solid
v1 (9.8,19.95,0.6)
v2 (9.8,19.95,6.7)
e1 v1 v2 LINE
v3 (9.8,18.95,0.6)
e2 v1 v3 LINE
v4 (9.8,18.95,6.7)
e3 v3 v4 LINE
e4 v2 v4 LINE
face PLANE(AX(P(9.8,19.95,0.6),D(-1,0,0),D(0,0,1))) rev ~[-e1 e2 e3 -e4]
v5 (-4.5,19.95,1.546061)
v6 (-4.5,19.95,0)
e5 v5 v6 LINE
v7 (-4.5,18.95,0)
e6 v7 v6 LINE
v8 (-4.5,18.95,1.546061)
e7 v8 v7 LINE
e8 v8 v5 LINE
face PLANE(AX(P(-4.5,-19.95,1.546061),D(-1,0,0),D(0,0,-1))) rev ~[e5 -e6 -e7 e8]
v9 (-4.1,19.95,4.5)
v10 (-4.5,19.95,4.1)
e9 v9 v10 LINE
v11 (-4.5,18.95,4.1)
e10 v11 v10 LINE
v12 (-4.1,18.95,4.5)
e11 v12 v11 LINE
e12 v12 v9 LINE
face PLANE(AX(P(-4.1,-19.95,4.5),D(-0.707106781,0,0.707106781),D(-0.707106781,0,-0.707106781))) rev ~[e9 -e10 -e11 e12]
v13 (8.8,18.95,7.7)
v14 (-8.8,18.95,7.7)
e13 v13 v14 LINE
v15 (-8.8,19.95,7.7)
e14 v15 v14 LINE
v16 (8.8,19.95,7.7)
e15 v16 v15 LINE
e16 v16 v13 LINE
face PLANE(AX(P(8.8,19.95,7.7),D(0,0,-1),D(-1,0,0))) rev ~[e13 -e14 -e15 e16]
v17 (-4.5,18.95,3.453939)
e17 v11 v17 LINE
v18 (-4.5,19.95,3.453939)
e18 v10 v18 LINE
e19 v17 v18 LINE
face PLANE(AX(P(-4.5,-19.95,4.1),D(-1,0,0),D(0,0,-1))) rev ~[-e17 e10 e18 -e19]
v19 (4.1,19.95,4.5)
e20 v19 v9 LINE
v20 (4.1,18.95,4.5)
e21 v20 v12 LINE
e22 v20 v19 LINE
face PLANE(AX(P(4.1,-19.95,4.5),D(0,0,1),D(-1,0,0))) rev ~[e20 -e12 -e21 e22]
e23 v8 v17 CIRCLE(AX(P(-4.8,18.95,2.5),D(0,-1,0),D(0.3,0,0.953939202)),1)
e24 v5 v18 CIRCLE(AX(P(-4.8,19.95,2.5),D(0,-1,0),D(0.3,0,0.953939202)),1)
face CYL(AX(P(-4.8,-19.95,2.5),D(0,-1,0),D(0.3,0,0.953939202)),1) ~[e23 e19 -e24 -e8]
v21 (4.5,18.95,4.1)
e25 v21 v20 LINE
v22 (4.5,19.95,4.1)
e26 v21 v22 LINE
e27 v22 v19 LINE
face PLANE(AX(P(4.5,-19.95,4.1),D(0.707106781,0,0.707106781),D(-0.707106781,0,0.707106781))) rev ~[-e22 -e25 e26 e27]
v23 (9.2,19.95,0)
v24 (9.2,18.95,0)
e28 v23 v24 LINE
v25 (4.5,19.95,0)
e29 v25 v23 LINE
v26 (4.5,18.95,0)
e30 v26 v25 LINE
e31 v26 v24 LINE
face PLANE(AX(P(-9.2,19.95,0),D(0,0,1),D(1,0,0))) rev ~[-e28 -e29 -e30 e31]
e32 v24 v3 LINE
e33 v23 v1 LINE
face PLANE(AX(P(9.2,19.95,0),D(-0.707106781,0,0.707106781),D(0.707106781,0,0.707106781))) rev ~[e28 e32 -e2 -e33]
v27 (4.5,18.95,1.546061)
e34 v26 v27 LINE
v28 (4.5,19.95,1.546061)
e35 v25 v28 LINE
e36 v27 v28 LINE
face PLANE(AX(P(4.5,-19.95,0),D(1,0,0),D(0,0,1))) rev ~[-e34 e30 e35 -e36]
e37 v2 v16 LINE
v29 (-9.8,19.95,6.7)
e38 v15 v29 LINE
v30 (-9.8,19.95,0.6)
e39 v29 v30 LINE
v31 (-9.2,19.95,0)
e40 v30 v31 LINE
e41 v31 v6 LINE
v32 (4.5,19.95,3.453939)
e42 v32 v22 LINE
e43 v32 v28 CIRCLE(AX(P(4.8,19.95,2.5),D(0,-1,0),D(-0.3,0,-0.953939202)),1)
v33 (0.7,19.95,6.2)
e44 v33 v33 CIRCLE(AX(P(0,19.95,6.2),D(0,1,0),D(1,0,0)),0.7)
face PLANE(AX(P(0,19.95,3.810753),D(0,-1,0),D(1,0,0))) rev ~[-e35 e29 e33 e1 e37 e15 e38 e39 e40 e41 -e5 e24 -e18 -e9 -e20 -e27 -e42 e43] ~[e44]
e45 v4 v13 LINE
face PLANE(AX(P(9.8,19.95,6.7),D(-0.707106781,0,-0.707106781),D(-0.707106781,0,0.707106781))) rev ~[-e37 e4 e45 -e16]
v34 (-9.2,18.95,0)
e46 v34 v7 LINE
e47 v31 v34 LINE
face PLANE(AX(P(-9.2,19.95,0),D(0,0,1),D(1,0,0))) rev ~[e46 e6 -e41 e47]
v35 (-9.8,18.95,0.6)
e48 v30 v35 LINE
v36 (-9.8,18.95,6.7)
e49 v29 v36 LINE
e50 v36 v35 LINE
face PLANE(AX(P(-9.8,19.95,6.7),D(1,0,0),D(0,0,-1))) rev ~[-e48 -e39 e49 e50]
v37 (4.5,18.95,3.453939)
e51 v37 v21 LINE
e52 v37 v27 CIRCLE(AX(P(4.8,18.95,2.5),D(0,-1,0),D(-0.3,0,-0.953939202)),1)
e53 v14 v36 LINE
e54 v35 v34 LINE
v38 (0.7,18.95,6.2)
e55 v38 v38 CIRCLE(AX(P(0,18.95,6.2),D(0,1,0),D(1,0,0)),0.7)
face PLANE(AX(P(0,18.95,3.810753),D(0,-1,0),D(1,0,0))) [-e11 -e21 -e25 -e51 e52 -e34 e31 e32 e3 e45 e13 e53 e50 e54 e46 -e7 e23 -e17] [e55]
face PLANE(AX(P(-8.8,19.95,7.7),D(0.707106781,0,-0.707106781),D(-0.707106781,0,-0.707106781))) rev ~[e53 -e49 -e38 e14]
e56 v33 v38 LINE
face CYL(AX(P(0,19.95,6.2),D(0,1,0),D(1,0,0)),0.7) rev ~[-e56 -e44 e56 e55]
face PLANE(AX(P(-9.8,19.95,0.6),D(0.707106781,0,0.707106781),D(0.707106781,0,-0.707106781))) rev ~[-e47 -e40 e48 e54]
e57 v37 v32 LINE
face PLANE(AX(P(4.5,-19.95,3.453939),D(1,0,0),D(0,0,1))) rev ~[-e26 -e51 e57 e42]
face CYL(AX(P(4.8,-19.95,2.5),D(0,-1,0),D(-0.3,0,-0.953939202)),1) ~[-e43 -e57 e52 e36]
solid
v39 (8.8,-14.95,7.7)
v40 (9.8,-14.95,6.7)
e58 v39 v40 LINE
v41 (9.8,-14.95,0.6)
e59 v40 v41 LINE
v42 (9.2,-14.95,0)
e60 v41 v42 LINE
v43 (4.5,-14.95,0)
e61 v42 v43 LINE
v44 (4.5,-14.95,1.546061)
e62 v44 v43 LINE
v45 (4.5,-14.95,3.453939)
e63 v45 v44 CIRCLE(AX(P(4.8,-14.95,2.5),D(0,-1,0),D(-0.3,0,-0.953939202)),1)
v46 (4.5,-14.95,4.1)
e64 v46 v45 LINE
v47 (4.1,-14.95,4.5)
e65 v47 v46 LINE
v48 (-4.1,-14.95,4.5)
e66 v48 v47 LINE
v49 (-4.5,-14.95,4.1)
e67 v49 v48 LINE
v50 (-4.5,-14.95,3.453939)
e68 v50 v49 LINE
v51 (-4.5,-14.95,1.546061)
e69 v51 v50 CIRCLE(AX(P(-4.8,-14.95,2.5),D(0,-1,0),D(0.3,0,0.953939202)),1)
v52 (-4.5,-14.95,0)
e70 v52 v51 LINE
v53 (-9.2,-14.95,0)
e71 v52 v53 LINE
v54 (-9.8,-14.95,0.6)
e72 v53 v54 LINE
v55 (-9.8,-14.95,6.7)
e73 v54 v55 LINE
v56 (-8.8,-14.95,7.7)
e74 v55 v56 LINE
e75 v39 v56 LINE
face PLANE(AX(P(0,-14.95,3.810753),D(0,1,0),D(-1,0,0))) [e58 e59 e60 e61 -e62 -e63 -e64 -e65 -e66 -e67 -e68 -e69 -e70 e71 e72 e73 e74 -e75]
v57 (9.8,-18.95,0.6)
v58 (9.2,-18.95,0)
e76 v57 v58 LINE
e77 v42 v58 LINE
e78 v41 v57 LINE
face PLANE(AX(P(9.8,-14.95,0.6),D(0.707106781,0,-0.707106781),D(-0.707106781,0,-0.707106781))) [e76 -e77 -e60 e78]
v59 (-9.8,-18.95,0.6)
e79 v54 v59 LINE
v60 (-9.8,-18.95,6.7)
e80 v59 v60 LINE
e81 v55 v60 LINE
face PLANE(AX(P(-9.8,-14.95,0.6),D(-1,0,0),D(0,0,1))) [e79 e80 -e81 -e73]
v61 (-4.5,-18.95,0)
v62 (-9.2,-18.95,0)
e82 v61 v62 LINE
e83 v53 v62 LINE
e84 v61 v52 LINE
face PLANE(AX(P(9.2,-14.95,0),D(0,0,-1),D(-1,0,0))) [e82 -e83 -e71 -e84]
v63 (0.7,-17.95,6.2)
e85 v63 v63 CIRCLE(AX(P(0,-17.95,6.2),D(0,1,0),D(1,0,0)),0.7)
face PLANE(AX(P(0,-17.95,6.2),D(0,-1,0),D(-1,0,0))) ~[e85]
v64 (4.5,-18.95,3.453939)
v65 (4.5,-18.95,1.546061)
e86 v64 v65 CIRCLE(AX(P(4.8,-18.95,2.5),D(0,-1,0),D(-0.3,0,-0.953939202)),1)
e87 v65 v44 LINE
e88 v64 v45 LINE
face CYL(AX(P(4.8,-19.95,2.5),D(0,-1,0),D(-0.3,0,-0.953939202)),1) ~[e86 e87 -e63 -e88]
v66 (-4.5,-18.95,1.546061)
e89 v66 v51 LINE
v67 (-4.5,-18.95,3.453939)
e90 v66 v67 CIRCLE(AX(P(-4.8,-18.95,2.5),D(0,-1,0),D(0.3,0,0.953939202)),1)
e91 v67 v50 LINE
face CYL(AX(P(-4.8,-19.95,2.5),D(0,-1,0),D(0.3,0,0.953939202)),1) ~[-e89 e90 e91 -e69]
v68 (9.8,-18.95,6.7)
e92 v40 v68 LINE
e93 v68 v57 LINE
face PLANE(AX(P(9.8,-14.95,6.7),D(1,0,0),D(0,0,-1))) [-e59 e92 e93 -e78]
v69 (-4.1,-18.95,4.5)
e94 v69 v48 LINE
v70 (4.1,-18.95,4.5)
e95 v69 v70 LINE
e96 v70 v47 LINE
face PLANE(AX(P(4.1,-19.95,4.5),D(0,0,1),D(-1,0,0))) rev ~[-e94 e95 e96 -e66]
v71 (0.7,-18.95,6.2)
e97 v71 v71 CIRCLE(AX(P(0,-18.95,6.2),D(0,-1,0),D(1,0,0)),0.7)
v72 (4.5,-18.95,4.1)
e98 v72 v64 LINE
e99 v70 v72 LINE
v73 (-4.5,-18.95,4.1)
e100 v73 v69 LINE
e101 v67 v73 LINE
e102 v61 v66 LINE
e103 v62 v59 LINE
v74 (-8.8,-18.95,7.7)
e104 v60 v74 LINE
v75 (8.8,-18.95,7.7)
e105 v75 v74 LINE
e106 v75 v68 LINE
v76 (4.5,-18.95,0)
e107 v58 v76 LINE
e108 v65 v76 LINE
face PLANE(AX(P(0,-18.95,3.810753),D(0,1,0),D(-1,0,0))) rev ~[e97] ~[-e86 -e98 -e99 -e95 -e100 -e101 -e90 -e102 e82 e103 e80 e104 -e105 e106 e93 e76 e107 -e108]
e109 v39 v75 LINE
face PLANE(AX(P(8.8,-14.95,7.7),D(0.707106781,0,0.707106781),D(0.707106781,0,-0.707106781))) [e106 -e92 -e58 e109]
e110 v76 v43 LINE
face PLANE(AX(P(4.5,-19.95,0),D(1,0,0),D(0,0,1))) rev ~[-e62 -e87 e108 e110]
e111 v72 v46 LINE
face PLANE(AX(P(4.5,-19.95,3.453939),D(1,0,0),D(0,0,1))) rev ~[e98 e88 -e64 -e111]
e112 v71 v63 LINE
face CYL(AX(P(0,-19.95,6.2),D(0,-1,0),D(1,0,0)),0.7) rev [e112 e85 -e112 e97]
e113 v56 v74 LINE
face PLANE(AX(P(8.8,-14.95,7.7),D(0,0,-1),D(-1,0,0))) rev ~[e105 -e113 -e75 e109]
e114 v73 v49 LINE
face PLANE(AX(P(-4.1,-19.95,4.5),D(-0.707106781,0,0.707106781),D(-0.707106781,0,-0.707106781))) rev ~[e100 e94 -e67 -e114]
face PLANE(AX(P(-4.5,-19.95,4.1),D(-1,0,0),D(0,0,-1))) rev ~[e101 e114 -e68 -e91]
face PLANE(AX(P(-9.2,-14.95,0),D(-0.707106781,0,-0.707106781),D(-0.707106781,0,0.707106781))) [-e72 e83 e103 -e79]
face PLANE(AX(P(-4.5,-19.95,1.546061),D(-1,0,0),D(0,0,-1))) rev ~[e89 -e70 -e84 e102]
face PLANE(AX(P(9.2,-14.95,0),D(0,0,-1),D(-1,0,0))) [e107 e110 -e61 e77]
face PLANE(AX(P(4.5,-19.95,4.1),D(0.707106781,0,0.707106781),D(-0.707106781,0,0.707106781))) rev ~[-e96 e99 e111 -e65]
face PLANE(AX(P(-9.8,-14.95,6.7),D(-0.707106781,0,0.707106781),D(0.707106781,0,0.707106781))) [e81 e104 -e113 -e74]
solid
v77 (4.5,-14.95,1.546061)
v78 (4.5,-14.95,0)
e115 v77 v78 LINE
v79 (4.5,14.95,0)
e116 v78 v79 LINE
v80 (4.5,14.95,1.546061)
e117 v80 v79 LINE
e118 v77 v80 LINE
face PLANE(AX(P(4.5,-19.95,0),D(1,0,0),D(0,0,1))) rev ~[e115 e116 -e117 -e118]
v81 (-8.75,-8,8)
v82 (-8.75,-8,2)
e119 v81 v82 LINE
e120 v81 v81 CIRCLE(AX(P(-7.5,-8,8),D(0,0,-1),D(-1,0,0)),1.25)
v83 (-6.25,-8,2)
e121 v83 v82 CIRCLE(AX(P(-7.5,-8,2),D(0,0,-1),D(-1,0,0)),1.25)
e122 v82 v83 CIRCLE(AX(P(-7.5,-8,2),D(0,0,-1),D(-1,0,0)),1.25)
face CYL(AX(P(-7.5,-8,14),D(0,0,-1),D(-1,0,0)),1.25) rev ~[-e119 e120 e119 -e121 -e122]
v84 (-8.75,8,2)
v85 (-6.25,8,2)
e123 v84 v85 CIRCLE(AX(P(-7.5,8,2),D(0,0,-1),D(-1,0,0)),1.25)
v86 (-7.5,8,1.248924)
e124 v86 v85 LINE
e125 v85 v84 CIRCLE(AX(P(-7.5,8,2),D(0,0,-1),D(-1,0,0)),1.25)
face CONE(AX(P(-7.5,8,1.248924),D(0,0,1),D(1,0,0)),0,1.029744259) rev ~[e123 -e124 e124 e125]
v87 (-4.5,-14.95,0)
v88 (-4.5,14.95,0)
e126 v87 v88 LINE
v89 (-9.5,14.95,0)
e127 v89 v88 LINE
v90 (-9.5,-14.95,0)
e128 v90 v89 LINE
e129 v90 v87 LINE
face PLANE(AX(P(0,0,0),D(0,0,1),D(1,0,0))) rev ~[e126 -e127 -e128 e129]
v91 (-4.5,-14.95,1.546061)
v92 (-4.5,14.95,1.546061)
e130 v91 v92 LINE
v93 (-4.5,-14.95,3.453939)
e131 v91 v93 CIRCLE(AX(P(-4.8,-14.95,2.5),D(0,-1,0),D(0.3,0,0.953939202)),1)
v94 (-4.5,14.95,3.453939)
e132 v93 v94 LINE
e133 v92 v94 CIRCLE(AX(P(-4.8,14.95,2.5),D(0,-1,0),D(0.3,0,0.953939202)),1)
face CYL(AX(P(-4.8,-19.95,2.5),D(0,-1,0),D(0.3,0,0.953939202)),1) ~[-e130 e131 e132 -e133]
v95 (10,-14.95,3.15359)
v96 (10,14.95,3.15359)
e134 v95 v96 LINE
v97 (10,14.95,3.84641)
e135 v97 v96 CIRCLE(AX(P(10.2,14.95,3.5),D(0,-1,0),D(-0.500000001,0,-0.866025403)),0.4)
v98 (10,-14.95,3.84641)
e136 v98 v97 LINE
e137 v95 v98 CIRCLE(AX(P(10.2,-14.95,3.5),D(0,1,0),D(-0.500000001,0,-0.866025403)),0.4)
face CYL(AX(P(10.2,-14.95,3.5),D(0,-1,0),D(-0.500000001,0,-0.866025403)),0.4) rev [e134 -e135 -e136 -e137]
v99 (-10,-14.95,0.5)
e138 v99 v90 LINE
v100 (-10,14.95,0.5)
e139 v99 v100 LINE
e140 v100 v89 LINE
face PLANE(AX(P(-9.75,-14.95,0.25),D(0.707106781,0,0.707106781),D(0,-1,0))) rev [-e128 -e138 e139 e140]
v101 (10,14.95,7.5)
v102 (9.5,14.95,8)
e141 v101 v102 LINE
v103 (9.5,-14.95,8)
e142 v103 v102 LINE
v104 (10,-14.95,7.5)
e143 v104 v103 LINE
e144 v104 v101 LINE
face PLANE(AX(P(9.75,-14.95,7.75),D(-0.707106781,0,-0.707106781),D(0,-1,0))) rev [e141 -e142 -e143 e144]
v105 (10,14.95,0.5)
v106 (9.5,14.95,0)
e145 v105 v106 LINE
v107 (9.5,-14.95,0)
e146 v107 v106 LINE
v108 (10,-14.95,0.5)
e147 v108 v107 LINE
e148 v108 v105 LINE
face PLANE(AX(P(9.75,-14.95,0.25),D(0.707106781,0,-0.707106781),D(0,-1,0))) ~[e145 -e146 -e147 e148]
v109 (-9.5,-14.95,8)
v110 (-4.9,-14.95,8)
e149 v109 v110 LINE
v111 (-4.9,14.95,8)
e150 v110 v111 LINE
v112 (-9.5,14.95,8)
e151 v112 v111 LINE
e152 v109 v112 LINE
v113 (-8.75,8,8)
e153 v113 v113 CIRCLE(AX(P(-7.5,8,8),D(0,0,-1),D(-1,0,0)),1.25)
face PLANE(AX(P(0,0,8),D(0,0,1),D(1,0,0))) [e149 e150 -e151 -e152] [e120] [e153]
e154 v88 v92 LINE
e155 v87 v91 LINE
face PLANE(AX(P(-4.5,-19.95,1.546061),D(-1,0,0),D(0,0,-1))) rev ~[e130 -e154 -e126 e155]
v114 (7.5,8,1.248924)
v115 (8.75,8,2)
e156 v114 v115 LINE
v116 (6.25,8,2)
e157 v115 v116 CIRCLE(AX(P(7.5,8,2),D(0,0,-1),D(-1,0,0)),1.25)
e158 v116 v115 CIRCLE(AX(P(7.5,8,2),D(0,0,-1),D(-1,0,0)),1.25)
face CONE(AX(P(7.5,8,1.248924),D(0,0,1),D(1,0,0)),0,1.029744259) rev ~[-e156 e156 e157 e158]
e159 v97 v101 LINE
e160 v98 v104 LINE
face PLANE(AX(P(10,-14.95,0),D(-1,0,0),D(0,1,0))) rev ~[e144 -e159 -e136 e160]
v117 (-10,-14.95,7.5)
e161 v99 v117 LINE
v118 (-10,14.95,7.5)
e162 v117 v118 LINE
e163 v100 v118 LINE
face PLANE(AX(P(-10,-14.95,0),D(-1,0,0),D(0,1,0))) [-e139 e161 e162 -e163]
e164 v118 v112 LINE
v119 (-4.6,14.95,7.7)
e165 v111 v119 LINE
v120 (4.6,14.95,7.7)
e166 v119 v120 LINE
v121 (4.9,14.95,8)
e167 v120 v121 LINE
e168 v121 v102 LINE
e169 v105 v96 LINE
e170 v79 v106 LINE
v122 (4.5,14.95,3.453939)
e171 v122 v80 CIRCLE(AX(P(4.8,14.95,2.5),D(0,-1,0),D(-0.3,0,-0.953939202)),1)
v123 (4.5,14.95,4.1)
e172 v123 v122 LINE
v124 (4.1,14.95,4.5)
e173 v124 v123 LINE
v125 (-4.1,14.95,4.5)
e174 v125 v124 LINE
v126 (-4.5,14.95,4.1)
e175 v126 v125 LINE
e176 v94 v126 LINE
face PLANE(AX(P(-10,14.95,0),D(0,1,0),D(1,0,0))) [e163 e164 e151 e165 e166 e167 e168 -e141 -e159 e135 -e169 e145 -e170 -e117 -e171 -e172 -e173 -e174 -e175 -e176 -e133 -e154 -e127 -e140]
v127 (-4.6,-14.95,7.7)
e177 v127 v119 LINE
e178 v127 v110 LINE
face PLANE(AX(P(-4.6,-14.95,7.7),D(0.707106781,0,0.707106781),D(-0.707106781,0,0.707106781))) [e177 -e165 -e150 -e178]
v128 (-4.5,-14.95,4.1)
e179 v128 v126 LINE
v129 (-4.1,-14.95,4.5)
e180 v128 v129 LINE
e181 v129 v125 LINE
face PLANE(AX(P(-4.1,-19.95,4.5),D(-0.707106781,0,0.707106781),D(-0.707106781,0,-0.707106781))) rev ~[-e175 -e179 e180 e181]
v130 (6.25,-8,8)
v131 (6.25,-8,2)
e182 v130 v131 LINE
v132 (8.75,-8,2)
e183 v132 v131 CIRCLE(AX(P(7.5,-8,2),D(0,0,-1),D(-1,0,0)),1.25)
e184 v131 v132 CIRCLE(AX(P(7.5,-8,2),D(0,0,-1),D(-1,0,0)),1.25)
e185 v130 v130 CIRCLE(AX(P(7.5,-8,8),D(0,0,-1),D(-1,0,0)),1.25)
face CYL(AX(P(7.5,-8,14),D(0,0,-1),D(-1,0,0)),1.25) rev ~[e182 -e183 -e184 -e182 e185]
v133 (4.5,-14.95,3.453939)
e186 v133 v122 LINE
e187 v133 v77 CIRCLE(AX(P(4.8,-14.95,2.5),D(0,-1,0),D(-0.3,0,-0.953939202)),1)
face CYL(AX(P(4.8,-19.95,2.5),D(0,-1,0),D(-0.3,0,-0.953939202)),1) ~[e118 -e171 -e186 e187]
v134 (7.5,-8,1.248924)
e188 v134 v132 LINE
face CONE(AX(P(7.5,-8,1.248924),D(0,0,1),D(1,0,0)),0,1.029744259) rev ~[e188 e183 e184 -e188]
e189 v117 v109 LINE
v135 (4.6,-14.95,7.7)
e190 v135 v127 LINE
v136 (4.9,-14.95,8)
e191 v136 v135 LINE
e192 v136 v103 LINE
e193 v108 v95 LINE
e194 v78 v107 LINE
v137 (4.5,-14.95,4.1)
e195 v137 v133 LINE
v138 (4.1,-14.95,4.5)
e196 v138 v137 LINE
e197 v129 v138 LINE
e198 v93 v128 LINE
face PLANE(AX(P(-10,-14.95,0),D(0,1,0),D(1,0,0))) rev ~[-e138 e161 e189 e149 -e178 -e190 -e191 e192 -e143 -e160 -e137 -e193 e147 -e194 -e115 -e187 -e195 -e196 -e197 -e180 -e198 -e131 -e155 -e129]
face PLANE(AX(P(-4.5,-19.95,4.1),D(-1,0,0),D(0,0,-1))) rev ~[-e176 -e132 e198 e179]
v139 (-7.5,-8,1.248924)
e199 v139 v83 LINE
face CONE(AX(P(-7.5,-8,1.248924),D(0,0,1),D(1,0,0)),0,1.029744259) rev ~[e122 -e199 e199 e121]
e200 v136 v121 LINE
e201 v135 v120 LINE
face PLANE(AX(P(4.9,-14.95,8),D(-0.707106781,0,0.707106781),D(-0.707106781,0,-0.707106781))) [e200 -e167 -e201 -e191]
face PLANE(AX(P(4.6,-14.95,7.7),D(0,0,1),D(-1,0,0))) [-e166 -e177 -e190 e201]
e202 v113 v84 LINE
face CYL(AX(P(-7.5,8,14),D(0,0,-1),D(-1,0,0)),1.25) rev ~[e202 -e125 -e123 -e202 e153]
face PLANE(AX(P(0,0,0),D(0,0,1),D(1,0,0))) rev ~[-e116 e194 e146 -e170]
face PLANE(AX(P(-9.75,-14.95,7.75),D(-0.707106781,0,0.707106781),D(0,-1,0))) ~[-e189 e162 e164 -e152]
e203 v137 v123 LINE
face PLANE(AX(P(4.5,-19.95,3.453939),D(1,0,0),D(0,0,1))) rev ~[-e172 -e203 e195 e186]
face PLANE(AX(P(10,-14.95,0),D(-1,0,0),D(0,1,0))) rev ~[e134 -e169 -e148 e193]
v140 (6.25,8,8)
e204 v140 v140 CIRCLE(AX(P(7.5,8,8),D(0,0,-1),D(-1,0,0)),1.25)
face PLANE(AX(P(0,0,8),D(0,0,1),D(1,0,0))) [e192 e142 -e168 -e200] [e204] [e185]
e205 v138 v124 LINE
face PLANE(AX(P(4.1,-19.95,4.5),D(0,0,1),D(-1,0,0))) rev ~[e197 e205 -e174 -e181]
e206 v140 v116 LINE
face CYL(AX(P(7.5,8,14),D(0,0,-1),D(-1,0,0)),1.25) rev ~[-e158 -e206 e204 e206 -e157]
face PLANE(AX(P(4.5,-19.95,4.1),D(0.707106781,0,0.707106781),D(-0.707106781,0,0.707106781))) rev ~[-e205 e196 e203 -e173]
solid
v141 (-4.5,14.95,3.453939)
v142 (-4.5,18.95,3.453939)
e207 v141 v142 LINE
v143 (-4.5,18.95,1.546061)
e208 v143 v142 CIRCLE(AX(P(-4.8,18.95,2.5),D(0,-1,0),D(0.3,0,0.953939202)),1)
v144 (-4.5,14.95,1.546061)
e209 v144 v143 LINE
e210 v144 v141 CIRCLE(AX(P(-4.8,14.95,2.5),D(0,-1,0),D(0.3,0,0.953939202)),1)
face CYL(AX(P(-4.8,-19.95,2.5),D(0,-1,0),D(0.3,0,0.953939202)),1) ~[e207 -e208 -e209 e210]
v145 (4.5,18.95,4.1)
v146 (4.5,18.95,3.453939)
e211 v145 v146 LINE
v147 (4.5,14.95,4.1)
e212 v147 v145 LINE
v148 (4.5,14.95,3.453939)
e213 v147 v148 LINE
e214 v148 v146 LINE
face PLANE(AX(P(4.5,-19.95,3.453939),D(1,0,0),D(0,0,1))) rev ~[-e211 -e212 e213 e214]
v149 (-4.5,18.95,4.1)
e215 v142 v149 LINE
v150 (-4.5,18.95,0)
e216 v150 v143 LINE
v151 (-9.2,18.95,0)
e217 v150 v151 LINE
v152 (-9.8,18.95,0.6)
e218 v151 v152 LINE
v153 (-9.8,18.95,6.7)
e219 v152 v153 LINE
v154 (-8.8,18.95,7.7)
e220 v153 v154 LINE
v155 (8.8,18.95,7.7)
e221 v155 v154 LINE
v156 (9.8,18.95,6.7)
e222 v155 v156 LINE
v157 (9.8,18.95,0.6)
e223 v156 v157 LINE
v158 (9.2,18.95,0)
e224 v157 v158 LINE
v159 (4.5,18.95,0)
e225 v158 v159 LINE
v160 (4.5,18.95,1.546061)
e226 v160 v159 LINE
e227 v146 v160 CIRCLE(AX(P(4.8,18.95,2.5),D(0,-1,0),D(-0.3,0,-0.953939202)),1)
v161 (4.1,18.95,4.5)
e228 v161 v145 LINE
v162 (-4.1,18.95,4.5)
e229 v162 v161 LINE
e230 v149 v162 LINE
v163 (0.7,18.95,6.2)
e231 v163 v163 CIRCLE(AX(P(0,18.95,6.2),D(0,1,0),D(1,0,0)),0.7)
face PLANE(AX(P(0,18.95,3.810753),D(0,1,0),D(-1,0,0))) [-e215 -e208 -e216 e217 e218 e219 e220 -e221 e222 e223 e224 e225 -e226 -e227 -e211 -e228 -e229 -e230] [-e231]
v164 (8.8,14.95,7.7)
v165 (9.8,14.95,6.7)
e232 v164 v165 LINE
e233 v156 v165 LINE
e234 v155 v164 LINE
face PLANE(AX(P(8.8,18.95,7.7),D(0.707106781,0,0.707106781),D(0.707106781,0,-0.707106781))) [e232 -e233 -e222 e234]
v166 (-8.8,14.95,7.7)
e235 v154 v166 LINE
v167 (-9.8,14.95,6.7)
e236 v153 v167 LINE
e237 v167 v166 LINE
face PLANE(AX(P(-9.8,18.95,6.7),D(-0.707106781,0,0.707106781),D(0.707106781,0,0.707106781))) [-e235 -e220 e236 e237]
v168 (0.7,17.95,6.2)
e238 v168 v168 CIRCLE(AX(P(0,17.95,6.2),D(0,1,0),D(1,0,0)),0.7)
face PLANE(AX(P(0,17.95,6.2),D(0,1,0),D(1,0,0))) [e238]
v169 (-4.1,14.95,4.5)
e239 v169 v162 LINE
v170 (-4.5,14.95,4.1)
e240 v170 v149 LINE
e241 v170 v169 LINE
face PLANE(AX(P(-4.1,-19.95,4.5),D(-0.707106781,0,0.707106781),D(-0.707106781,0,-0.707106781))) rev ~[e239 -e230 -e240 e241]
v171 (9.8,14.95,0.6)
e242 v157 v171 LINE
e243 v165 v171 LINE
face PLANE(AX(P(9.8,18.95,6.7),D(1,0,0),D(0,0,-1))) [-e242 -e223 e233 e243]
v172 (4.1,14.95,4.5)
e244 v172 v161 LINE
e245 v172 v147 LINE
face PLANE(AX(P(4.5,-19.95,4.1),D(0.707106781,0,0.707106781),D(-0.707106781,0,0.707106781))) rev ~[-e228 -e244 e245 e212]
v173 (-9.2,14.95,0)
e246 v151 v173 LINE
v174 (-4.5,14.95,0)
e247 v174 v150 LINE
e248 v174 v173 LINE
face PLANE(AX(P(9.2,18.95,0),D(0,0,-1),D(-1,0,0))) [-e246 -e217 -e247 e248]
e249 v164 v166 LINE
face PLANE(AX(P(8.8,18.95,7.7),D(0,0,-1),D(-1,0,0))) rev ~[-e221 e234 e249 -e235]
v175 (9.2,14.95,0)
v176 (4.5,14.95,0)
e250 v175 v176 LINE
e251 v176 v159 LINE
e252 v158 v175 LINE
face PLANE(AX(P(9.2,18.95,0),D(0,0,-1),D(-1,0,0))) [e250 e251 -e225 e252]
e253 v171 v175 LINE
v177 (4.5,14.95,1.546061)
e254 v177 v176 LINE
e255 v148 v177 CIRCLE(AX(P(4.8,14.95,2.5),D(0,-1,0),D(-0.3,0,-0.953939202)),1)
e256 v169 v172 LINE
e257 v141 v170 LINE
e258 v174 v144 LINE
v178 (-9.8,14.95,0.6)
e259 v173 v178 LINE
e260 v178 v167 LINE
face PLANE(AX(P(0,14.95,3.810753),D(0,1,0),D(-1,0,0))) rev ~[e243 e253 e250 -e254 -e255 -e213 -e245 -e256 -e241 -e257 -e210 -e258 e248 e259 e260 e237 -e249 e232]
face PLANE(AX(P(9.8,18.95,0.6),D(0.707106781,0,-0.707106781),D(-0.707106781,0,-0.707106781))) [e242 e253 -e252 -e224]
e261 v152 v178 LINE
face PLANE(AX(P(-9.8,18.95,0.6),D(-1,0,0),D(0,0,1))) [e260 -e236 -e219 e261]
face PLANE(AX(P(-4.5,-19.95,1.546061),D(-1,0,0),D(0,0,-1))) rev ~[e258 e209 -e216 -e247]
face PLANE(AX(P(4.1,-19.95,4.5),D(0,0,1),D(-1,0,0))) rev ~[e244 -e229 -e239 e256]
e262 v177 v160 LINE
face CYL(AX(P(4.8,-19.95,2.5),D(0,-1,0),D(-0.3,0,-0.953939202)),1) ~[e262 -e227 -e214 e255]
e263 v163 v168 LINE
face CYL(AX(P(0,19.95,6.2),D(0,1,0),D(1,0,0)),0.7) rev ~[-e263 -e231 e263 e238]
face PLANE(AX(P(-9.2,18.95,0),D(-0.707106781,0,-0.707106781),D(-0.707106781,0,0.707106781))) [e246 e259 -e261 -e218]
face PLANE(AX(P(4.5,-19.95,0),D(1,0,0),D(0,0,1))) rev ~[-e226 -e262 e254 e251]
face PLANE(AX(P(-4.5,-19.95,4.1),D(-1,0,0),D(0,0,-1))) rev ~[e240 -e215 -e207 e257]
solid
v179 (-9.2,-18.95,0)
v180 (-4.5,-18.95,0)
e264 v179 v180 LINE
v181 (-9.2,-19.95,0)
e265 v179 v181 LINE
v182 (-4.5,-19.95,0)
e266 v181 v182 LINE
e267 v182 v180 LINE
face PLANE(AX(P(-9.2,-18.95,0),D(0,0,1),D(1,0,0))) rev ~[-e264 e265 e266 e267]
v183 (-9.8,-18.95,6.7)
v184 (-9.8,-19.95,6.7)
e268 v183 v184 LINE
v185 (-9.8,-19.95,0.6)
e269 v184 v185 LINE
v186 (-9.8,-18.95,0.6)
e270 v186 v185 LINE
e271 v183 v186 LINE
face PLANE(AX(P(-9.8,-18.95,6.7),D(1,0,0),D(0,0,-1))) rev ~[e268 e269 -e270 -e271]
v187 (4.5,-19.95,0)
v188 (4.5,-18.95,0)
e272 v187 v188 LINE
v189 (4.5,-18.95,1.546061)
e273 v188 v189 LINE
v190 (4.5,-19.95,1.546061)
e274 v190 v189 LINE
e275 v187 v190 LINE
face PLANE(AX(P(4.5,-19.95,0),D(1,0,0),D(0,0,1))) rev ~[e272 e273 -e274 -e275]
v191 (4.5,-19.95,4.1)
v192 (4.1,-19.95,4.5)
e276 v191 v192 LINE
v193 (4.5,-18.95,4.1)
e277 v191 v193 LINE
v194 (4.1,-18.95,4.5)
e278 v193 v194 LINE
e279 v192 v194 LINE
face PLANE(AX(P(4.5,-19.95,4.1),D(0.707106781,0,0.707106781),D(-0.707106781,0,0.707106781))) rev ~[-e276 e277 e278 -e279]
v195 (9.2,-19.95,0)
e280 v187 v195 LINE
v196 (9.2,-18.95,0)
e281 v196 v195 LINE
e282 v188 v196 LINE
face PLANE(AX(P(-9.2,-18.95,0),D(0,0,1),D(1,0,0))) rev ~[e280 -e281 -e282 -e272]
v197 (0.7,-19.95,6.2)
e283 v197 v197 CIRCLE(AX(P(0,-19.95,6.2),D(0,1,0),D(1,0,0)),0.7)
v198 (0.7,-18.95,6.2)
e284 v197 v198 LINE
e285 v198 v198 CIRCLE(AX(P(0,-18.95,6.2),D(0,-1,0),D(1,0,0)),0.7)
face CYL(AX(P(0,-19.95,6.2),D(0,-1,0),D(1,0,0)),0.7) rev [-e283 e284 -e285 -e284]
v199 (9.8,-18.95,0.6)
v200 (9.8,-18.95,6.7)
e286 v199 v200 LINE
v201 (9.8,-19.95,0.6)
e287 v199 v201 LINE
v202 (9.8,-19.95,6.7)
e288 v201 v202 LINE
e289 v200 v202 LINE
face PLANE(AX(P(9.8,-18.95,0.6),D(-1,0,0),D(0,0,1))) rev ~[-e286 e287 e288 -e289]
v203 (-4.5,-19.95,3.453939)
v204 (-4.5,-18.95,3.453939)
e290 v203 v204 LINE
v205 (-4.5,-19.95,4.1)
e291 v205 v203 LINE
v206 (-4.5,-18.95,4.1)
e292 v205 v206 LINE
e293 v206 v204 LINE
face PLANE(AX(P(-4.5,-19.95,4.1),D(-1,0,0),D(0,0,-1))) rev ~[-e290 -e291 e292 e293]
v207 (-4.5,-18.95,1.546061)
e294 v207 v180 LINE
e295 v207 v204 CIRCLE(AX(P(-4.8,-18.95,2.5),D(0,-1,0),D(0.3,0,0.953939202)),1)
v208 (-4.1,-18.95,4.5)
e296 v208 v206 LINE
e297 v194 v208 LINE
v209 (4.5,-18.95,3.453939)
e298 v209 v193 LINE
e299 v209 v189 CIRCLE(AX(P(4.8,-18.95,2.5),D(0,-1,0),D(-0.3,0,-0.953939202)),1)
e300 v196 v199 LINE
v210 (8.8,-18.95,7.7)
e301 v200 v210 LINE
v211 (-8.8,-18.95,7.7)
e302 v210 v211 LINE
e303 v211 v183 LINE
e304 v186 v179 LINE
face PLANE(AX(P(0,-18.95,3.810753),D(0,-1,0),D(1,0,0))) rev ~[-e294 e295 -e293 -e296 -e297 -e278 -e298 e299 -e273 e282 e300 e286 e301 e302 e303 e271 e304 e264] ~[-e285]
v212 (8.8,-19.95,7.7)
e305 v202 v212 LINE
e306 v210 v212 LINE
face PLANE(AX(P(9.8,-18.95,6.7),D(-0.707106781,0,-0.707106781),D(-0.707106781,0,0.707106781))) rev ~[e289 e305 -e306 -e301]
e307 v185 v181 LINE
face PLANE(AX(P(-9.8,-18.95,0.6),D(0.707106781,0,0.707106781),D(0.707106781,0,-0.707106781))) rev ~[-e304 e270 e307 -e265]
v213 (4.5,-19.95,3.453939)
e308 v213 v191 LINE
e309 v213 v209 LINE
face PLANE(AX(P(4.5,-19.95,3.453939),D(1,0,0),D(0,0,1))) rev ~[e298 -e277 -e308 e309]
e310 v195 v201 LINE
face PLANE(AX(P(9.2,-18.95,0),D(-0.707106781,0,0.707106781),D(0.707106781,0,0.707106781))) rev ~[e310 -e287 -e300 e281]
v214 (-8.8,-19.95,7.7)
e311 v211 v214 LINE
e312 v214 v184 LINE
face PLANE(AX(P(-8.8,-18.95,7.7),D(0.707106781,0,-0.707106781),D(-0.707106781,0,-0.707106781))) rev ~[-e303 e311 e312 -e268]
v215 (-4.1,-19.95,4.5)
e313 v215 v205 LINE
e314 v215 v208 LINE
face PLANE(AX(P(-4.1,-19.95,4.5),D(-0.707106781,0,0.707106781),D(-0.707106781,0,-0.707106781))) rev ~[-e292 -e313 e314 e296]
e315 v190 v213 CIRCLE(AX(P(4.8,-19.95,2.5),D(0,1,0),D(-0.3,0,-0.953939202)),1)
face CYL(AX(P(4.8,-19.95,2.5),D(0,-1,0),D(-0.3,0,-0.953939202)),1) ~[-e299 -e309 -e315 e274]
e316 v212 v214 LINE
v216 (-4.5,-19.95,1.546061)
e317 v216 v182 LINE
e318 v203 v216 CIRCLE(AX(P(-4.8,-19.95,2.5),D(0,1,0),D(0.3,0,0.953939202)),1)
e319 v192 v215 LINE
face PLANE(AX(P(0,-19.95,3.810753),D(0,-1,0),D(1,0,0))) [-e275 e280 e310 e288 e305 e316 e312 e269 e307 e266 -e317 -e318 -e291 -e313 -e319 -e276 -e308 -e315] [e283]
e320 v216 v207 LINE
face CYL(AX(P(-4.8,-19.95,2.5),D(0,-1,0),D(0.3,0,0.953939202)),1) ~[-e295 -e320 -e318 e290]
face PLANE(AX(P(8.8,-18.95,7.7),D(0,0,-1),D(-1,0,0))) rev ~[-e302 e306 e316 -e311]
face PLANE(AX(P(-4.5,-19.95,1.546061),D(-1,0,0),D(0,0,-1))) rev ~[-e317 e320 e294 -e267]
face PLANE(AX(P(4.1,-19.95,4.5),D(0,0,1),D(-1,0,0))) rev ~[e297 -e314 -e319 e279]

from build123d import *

# Parameters (mm, degrees)
SKICA1_W                 = 20
SKICA1_H                 = 29.9
P_IDAT_VYSUNUT_M1_DEPTH  = 8
ZKOSEN_1_SIZE            = 0.5
ODEBRAT_VYSUNUT_M1_DEPTH = 30.9
M3_Z_VIT1_D              = 2.5
M3_Z_VIT1_DEPTH          = 6
M3_Z_VIT1_TIP            = 0.751075774
P_IDAT_VYSUNUT_M2_DEPTH  = 4
P_IDAT_VYSUNUT_M3_DEPTH  = 1
LINPOLE1_COUNT           = 2
LINPOLE1_PITCH           = 33.9
LINPOLE2_COUNT           = 2
LINPOLE2_PITCH           = 38.9
ODEBRAT_VYSUNUT_M2_DEPTH = 40.9
ODEBRAT_VYSUNUT_M3_DEPTH = 35.9
SKICA9_R                 = 0.7
ODEBRAT_VYSUNUT_M4_DEPTH = 2


with BuildPart() as part:
    # Skica1 → Přidat vysunutím1 (new body)
    with BuildSketch(Plane.XY):
        Rectangle(SKICA1_W, SKICA1_H)
    extrude(amount=P_IDAT_VYSUNUT_M1_DEPTH)

    # Zkosení1
    zkosen_1_edges = [part.edges().sort_by_distance(p)[0] for p in [
        (-10, 0, 8),
        (10, 0, 8),
        (-10, 0, 0),
        (10, 0, 0),
    ]]
    chamfer(zkosen_1_edges, length=ZKOSEN_1_SIZE)

    # Skica2 → Odebrat vysunutím1 (cut, through all)
    with BuildSketch(Plane.XZ.offset(14.95)):
        Polygon((-4.9, 8), (4.9, 8), (4.6, 7.7), (-4.6, 7.7), align=None)
    extrude(amount=-ODEBRAT_VYSUNUT_M1_DEPTH, mode=Mode.SUBTRACT)

    # M3 závit1
    with Locations(Plane.XY.offset(8)):
        with Locations((-7.5, 8), (-7.5, -8), (7.5, -8), (7.5, 8)):
            Hole(M3_Z_VIT1_D / 2, depth=M3_Z_VIT1_DEPTH)
            with Locations((0, 0, -(M3_Z_VIT1_DEPTH + M3_Z_VIT1_TIP / 2))):  # 118° drill point
                Cone(0, M3_Z_VIT1_D / 2, M3_Z_VIT1_TIP, mode=Mode.SUBTRACT)


with BuildPart() as body_2:
    # Skica5 → Přidat vysunutím2 (new body)
    with BuildSketch(Plane.XZ.offset(14.95)):
        Polygon((-4.6, 7.7), (4.6, 7.7), (8.8, 7.7), (9.8, 6.7), (9.8, 0.6), (9.2, 0), (-9.2, 0), (-9.8, 0.6), (-9.8, 6.7), (-8.8, 7.7), align=None)
    p_idat_vysunut_m2 = extrude(amount=P_IDAT_VYSUNUT_M2_DEPTH)


with BuildPart() as body_3:
    # Skica6 → Přidat vysunutím3 (new body)
    with BuildSketch(Plane.XZ.offset(18.95)):
        Polygon((8.8, 7.7), (-8.8, 7.7), (-9.8, 6.7), (-9.8, 0.6), (-9.2, 0), (9.2, 0), (9.8, 0.6), (9.8, 6.7), align=None)
    extrude(amount=P_IDAT_VYSUNUT_M3_DEPTH)


with BuildPart() as linpole1_1:
    # LinPole1: Přidat vysunutím2 ×2
    with Locations(*[(0, i * LINPOLE1_PITCH, 0) for i in range(1, LINPOLE1_COUNT)]):
        add(p_idat_vysunut_m2)


with BuildPart() as linpole2_1:
    # LinPole2: pattern copy
    add(body_3.part.moved(Location(Vector(0, 1, 0) * (1 * LINPOLE2_PITCH))))


with BuildPart() as odebrat_vysunut_m2_tool:
    # Skica7 → Odebrat vysunutím2 (new body, through all)
    with BuildSketch(Plane.XZ.offset(19.95)):
        with BuildLine():
            Line((-4.5, 1.546060799), (-4.5, 0))
            Line((-4.5, 0), (4.5, 0))
            Line((4.5, 0), (4.5, 1.546060799))
            ThreePointArc((4.5, 1.546060799), (3.8, 2.5), (4.5, 3.453939201))
            Line((4.5, 3.453939201), (4.5, 4.1))
            Line((4.5, 4.1), (4.1, 4.5))
            Line((4.1, 4.5), (-4.1, 4.5))
            Line((-4.1, 4.5), (-4.5, 4.1))
            Line((-4.5, 4.1), (-4.5, 3.453939201))
            ThreePointArc((-4.5, 3.453939201), (-3.8, 2.5), (-4.5, 1.546060799))
        make_face()
    extrude(amount=-ODEBRAT_VYSUNUT_M2_DEPTH)


with BuildPart() as part_1:
    add(part.part)

    # Odebrat vysunutím2: cut by odebrat_vysunut_m2_tool
    add(odebrat_vysunut_m2_tool.part, mode=Mode.SUBTRACT)

    # Skica8 → Odebrat vysunutím3 (cut, through all)
    with BuildSketch(Plane.XZ.offset(14.95)):
        with BuildLine():
            Line((10, 3.846410162), (10, 3.153589838))
            ThreePointArc((10, 3.153589838), (9.8, 3.5), (10, 3.846410162))
        make_face()
    extrude(amount=-ODEBRAT_VYSUNUT_M3_DEPTH, mode=Mode.SUBTRACT)


with BuildPart() as body_2_1:
    add(body_2.part)

    # Odebrat vysunutím2: cut by odebrat_vysunut_m2_tool
    add(odebrat_vysunut_m2_tool.part, mode=Mode.SUBTRACT)


with BuildPart() as body_3_1:
    add(body_3.part)

    # Odebrat vysunutím2: cut by odebrat_vysunut_m2_tool
    add(odebrat_vysunut_m2_tool.part, mode=Mode.SUBTRACT)


with BuildPart() as linpole1_1_1:
    add(linpole1_1.part)

    # Odebrat vysunutím2: cut by odebrat_vysunut_m2_tool
    add(odebrat_vysunut_m2_tool.part, mode=Mode.SUBTRACT)


with BuildPart() as linpole2_1_1:
    add(linpole2_1.part)

    # Odebrat vysunutím2: cut by odebrat_vysunut_m2_tool
    add(odebrat_vysunut_m2_tool.part, mode=Mode.SUBTRACT)


with BuildPart() as odebrat_vysunut_m4_tool:
    # Skica9 → Odebrat vysunutím4 (new body)
    with BuildSketch(Plane(origin=(0, 19.95, 0), x_dir=(1, 0, 0), z_dir=(0, 1, 0))):
        with Locations((0, -6.2)):
            Circle(SKICA9_R)
    odebrat_vysunut_m4 = extrude(amount=-ODEBRAT_VYSUNUT_M4_DEPTH)


with BuildPart() as linpole1_1_2:
    add(linpole1_1_1.part)

    # Odebrat vysunutím4: cut by odebrat_vysunut_m4_tool
    add(odebrat_vysunut_m4_tool.part, mode=Mode.SUBTRACT)


with BuildPart() as linpole2_1_2:
    add(linpole2_1_1.part)

    # Odebrat vysunutím4: cut by odebrat_vysunut_m4_tool
    add(odebrat_vysunut_m4_tool.part, mode=Mode.SUBTRACT)


with BuildPart() as zrcadlit4_tool:
    # Zrcadlit4: Odebrat vysunutím4 across plane
    add(odebrat_vysunut_m4.mirror(Plane.ZX))


with BuildPart() as body_2_2:
    add(body_2_1.part)

    # Zrcadlit4: cut by zrcadlit4_tool
    add(zrcadlit4_tool.part, mode=Mode.SUBTRACT)


with BuildPart() as body_3_2:
    add(body_3_1.part)

    # Zrcadlit4: cut by zrcadlit4_tool
    add(zrcadlit4_tool.part, mode=Mode.SUBTRACT)


solid = Compound([part_1.part, linpole1_1_2.part, linpole2_1_2.part, body_2_2.part, body_3_2.part])
